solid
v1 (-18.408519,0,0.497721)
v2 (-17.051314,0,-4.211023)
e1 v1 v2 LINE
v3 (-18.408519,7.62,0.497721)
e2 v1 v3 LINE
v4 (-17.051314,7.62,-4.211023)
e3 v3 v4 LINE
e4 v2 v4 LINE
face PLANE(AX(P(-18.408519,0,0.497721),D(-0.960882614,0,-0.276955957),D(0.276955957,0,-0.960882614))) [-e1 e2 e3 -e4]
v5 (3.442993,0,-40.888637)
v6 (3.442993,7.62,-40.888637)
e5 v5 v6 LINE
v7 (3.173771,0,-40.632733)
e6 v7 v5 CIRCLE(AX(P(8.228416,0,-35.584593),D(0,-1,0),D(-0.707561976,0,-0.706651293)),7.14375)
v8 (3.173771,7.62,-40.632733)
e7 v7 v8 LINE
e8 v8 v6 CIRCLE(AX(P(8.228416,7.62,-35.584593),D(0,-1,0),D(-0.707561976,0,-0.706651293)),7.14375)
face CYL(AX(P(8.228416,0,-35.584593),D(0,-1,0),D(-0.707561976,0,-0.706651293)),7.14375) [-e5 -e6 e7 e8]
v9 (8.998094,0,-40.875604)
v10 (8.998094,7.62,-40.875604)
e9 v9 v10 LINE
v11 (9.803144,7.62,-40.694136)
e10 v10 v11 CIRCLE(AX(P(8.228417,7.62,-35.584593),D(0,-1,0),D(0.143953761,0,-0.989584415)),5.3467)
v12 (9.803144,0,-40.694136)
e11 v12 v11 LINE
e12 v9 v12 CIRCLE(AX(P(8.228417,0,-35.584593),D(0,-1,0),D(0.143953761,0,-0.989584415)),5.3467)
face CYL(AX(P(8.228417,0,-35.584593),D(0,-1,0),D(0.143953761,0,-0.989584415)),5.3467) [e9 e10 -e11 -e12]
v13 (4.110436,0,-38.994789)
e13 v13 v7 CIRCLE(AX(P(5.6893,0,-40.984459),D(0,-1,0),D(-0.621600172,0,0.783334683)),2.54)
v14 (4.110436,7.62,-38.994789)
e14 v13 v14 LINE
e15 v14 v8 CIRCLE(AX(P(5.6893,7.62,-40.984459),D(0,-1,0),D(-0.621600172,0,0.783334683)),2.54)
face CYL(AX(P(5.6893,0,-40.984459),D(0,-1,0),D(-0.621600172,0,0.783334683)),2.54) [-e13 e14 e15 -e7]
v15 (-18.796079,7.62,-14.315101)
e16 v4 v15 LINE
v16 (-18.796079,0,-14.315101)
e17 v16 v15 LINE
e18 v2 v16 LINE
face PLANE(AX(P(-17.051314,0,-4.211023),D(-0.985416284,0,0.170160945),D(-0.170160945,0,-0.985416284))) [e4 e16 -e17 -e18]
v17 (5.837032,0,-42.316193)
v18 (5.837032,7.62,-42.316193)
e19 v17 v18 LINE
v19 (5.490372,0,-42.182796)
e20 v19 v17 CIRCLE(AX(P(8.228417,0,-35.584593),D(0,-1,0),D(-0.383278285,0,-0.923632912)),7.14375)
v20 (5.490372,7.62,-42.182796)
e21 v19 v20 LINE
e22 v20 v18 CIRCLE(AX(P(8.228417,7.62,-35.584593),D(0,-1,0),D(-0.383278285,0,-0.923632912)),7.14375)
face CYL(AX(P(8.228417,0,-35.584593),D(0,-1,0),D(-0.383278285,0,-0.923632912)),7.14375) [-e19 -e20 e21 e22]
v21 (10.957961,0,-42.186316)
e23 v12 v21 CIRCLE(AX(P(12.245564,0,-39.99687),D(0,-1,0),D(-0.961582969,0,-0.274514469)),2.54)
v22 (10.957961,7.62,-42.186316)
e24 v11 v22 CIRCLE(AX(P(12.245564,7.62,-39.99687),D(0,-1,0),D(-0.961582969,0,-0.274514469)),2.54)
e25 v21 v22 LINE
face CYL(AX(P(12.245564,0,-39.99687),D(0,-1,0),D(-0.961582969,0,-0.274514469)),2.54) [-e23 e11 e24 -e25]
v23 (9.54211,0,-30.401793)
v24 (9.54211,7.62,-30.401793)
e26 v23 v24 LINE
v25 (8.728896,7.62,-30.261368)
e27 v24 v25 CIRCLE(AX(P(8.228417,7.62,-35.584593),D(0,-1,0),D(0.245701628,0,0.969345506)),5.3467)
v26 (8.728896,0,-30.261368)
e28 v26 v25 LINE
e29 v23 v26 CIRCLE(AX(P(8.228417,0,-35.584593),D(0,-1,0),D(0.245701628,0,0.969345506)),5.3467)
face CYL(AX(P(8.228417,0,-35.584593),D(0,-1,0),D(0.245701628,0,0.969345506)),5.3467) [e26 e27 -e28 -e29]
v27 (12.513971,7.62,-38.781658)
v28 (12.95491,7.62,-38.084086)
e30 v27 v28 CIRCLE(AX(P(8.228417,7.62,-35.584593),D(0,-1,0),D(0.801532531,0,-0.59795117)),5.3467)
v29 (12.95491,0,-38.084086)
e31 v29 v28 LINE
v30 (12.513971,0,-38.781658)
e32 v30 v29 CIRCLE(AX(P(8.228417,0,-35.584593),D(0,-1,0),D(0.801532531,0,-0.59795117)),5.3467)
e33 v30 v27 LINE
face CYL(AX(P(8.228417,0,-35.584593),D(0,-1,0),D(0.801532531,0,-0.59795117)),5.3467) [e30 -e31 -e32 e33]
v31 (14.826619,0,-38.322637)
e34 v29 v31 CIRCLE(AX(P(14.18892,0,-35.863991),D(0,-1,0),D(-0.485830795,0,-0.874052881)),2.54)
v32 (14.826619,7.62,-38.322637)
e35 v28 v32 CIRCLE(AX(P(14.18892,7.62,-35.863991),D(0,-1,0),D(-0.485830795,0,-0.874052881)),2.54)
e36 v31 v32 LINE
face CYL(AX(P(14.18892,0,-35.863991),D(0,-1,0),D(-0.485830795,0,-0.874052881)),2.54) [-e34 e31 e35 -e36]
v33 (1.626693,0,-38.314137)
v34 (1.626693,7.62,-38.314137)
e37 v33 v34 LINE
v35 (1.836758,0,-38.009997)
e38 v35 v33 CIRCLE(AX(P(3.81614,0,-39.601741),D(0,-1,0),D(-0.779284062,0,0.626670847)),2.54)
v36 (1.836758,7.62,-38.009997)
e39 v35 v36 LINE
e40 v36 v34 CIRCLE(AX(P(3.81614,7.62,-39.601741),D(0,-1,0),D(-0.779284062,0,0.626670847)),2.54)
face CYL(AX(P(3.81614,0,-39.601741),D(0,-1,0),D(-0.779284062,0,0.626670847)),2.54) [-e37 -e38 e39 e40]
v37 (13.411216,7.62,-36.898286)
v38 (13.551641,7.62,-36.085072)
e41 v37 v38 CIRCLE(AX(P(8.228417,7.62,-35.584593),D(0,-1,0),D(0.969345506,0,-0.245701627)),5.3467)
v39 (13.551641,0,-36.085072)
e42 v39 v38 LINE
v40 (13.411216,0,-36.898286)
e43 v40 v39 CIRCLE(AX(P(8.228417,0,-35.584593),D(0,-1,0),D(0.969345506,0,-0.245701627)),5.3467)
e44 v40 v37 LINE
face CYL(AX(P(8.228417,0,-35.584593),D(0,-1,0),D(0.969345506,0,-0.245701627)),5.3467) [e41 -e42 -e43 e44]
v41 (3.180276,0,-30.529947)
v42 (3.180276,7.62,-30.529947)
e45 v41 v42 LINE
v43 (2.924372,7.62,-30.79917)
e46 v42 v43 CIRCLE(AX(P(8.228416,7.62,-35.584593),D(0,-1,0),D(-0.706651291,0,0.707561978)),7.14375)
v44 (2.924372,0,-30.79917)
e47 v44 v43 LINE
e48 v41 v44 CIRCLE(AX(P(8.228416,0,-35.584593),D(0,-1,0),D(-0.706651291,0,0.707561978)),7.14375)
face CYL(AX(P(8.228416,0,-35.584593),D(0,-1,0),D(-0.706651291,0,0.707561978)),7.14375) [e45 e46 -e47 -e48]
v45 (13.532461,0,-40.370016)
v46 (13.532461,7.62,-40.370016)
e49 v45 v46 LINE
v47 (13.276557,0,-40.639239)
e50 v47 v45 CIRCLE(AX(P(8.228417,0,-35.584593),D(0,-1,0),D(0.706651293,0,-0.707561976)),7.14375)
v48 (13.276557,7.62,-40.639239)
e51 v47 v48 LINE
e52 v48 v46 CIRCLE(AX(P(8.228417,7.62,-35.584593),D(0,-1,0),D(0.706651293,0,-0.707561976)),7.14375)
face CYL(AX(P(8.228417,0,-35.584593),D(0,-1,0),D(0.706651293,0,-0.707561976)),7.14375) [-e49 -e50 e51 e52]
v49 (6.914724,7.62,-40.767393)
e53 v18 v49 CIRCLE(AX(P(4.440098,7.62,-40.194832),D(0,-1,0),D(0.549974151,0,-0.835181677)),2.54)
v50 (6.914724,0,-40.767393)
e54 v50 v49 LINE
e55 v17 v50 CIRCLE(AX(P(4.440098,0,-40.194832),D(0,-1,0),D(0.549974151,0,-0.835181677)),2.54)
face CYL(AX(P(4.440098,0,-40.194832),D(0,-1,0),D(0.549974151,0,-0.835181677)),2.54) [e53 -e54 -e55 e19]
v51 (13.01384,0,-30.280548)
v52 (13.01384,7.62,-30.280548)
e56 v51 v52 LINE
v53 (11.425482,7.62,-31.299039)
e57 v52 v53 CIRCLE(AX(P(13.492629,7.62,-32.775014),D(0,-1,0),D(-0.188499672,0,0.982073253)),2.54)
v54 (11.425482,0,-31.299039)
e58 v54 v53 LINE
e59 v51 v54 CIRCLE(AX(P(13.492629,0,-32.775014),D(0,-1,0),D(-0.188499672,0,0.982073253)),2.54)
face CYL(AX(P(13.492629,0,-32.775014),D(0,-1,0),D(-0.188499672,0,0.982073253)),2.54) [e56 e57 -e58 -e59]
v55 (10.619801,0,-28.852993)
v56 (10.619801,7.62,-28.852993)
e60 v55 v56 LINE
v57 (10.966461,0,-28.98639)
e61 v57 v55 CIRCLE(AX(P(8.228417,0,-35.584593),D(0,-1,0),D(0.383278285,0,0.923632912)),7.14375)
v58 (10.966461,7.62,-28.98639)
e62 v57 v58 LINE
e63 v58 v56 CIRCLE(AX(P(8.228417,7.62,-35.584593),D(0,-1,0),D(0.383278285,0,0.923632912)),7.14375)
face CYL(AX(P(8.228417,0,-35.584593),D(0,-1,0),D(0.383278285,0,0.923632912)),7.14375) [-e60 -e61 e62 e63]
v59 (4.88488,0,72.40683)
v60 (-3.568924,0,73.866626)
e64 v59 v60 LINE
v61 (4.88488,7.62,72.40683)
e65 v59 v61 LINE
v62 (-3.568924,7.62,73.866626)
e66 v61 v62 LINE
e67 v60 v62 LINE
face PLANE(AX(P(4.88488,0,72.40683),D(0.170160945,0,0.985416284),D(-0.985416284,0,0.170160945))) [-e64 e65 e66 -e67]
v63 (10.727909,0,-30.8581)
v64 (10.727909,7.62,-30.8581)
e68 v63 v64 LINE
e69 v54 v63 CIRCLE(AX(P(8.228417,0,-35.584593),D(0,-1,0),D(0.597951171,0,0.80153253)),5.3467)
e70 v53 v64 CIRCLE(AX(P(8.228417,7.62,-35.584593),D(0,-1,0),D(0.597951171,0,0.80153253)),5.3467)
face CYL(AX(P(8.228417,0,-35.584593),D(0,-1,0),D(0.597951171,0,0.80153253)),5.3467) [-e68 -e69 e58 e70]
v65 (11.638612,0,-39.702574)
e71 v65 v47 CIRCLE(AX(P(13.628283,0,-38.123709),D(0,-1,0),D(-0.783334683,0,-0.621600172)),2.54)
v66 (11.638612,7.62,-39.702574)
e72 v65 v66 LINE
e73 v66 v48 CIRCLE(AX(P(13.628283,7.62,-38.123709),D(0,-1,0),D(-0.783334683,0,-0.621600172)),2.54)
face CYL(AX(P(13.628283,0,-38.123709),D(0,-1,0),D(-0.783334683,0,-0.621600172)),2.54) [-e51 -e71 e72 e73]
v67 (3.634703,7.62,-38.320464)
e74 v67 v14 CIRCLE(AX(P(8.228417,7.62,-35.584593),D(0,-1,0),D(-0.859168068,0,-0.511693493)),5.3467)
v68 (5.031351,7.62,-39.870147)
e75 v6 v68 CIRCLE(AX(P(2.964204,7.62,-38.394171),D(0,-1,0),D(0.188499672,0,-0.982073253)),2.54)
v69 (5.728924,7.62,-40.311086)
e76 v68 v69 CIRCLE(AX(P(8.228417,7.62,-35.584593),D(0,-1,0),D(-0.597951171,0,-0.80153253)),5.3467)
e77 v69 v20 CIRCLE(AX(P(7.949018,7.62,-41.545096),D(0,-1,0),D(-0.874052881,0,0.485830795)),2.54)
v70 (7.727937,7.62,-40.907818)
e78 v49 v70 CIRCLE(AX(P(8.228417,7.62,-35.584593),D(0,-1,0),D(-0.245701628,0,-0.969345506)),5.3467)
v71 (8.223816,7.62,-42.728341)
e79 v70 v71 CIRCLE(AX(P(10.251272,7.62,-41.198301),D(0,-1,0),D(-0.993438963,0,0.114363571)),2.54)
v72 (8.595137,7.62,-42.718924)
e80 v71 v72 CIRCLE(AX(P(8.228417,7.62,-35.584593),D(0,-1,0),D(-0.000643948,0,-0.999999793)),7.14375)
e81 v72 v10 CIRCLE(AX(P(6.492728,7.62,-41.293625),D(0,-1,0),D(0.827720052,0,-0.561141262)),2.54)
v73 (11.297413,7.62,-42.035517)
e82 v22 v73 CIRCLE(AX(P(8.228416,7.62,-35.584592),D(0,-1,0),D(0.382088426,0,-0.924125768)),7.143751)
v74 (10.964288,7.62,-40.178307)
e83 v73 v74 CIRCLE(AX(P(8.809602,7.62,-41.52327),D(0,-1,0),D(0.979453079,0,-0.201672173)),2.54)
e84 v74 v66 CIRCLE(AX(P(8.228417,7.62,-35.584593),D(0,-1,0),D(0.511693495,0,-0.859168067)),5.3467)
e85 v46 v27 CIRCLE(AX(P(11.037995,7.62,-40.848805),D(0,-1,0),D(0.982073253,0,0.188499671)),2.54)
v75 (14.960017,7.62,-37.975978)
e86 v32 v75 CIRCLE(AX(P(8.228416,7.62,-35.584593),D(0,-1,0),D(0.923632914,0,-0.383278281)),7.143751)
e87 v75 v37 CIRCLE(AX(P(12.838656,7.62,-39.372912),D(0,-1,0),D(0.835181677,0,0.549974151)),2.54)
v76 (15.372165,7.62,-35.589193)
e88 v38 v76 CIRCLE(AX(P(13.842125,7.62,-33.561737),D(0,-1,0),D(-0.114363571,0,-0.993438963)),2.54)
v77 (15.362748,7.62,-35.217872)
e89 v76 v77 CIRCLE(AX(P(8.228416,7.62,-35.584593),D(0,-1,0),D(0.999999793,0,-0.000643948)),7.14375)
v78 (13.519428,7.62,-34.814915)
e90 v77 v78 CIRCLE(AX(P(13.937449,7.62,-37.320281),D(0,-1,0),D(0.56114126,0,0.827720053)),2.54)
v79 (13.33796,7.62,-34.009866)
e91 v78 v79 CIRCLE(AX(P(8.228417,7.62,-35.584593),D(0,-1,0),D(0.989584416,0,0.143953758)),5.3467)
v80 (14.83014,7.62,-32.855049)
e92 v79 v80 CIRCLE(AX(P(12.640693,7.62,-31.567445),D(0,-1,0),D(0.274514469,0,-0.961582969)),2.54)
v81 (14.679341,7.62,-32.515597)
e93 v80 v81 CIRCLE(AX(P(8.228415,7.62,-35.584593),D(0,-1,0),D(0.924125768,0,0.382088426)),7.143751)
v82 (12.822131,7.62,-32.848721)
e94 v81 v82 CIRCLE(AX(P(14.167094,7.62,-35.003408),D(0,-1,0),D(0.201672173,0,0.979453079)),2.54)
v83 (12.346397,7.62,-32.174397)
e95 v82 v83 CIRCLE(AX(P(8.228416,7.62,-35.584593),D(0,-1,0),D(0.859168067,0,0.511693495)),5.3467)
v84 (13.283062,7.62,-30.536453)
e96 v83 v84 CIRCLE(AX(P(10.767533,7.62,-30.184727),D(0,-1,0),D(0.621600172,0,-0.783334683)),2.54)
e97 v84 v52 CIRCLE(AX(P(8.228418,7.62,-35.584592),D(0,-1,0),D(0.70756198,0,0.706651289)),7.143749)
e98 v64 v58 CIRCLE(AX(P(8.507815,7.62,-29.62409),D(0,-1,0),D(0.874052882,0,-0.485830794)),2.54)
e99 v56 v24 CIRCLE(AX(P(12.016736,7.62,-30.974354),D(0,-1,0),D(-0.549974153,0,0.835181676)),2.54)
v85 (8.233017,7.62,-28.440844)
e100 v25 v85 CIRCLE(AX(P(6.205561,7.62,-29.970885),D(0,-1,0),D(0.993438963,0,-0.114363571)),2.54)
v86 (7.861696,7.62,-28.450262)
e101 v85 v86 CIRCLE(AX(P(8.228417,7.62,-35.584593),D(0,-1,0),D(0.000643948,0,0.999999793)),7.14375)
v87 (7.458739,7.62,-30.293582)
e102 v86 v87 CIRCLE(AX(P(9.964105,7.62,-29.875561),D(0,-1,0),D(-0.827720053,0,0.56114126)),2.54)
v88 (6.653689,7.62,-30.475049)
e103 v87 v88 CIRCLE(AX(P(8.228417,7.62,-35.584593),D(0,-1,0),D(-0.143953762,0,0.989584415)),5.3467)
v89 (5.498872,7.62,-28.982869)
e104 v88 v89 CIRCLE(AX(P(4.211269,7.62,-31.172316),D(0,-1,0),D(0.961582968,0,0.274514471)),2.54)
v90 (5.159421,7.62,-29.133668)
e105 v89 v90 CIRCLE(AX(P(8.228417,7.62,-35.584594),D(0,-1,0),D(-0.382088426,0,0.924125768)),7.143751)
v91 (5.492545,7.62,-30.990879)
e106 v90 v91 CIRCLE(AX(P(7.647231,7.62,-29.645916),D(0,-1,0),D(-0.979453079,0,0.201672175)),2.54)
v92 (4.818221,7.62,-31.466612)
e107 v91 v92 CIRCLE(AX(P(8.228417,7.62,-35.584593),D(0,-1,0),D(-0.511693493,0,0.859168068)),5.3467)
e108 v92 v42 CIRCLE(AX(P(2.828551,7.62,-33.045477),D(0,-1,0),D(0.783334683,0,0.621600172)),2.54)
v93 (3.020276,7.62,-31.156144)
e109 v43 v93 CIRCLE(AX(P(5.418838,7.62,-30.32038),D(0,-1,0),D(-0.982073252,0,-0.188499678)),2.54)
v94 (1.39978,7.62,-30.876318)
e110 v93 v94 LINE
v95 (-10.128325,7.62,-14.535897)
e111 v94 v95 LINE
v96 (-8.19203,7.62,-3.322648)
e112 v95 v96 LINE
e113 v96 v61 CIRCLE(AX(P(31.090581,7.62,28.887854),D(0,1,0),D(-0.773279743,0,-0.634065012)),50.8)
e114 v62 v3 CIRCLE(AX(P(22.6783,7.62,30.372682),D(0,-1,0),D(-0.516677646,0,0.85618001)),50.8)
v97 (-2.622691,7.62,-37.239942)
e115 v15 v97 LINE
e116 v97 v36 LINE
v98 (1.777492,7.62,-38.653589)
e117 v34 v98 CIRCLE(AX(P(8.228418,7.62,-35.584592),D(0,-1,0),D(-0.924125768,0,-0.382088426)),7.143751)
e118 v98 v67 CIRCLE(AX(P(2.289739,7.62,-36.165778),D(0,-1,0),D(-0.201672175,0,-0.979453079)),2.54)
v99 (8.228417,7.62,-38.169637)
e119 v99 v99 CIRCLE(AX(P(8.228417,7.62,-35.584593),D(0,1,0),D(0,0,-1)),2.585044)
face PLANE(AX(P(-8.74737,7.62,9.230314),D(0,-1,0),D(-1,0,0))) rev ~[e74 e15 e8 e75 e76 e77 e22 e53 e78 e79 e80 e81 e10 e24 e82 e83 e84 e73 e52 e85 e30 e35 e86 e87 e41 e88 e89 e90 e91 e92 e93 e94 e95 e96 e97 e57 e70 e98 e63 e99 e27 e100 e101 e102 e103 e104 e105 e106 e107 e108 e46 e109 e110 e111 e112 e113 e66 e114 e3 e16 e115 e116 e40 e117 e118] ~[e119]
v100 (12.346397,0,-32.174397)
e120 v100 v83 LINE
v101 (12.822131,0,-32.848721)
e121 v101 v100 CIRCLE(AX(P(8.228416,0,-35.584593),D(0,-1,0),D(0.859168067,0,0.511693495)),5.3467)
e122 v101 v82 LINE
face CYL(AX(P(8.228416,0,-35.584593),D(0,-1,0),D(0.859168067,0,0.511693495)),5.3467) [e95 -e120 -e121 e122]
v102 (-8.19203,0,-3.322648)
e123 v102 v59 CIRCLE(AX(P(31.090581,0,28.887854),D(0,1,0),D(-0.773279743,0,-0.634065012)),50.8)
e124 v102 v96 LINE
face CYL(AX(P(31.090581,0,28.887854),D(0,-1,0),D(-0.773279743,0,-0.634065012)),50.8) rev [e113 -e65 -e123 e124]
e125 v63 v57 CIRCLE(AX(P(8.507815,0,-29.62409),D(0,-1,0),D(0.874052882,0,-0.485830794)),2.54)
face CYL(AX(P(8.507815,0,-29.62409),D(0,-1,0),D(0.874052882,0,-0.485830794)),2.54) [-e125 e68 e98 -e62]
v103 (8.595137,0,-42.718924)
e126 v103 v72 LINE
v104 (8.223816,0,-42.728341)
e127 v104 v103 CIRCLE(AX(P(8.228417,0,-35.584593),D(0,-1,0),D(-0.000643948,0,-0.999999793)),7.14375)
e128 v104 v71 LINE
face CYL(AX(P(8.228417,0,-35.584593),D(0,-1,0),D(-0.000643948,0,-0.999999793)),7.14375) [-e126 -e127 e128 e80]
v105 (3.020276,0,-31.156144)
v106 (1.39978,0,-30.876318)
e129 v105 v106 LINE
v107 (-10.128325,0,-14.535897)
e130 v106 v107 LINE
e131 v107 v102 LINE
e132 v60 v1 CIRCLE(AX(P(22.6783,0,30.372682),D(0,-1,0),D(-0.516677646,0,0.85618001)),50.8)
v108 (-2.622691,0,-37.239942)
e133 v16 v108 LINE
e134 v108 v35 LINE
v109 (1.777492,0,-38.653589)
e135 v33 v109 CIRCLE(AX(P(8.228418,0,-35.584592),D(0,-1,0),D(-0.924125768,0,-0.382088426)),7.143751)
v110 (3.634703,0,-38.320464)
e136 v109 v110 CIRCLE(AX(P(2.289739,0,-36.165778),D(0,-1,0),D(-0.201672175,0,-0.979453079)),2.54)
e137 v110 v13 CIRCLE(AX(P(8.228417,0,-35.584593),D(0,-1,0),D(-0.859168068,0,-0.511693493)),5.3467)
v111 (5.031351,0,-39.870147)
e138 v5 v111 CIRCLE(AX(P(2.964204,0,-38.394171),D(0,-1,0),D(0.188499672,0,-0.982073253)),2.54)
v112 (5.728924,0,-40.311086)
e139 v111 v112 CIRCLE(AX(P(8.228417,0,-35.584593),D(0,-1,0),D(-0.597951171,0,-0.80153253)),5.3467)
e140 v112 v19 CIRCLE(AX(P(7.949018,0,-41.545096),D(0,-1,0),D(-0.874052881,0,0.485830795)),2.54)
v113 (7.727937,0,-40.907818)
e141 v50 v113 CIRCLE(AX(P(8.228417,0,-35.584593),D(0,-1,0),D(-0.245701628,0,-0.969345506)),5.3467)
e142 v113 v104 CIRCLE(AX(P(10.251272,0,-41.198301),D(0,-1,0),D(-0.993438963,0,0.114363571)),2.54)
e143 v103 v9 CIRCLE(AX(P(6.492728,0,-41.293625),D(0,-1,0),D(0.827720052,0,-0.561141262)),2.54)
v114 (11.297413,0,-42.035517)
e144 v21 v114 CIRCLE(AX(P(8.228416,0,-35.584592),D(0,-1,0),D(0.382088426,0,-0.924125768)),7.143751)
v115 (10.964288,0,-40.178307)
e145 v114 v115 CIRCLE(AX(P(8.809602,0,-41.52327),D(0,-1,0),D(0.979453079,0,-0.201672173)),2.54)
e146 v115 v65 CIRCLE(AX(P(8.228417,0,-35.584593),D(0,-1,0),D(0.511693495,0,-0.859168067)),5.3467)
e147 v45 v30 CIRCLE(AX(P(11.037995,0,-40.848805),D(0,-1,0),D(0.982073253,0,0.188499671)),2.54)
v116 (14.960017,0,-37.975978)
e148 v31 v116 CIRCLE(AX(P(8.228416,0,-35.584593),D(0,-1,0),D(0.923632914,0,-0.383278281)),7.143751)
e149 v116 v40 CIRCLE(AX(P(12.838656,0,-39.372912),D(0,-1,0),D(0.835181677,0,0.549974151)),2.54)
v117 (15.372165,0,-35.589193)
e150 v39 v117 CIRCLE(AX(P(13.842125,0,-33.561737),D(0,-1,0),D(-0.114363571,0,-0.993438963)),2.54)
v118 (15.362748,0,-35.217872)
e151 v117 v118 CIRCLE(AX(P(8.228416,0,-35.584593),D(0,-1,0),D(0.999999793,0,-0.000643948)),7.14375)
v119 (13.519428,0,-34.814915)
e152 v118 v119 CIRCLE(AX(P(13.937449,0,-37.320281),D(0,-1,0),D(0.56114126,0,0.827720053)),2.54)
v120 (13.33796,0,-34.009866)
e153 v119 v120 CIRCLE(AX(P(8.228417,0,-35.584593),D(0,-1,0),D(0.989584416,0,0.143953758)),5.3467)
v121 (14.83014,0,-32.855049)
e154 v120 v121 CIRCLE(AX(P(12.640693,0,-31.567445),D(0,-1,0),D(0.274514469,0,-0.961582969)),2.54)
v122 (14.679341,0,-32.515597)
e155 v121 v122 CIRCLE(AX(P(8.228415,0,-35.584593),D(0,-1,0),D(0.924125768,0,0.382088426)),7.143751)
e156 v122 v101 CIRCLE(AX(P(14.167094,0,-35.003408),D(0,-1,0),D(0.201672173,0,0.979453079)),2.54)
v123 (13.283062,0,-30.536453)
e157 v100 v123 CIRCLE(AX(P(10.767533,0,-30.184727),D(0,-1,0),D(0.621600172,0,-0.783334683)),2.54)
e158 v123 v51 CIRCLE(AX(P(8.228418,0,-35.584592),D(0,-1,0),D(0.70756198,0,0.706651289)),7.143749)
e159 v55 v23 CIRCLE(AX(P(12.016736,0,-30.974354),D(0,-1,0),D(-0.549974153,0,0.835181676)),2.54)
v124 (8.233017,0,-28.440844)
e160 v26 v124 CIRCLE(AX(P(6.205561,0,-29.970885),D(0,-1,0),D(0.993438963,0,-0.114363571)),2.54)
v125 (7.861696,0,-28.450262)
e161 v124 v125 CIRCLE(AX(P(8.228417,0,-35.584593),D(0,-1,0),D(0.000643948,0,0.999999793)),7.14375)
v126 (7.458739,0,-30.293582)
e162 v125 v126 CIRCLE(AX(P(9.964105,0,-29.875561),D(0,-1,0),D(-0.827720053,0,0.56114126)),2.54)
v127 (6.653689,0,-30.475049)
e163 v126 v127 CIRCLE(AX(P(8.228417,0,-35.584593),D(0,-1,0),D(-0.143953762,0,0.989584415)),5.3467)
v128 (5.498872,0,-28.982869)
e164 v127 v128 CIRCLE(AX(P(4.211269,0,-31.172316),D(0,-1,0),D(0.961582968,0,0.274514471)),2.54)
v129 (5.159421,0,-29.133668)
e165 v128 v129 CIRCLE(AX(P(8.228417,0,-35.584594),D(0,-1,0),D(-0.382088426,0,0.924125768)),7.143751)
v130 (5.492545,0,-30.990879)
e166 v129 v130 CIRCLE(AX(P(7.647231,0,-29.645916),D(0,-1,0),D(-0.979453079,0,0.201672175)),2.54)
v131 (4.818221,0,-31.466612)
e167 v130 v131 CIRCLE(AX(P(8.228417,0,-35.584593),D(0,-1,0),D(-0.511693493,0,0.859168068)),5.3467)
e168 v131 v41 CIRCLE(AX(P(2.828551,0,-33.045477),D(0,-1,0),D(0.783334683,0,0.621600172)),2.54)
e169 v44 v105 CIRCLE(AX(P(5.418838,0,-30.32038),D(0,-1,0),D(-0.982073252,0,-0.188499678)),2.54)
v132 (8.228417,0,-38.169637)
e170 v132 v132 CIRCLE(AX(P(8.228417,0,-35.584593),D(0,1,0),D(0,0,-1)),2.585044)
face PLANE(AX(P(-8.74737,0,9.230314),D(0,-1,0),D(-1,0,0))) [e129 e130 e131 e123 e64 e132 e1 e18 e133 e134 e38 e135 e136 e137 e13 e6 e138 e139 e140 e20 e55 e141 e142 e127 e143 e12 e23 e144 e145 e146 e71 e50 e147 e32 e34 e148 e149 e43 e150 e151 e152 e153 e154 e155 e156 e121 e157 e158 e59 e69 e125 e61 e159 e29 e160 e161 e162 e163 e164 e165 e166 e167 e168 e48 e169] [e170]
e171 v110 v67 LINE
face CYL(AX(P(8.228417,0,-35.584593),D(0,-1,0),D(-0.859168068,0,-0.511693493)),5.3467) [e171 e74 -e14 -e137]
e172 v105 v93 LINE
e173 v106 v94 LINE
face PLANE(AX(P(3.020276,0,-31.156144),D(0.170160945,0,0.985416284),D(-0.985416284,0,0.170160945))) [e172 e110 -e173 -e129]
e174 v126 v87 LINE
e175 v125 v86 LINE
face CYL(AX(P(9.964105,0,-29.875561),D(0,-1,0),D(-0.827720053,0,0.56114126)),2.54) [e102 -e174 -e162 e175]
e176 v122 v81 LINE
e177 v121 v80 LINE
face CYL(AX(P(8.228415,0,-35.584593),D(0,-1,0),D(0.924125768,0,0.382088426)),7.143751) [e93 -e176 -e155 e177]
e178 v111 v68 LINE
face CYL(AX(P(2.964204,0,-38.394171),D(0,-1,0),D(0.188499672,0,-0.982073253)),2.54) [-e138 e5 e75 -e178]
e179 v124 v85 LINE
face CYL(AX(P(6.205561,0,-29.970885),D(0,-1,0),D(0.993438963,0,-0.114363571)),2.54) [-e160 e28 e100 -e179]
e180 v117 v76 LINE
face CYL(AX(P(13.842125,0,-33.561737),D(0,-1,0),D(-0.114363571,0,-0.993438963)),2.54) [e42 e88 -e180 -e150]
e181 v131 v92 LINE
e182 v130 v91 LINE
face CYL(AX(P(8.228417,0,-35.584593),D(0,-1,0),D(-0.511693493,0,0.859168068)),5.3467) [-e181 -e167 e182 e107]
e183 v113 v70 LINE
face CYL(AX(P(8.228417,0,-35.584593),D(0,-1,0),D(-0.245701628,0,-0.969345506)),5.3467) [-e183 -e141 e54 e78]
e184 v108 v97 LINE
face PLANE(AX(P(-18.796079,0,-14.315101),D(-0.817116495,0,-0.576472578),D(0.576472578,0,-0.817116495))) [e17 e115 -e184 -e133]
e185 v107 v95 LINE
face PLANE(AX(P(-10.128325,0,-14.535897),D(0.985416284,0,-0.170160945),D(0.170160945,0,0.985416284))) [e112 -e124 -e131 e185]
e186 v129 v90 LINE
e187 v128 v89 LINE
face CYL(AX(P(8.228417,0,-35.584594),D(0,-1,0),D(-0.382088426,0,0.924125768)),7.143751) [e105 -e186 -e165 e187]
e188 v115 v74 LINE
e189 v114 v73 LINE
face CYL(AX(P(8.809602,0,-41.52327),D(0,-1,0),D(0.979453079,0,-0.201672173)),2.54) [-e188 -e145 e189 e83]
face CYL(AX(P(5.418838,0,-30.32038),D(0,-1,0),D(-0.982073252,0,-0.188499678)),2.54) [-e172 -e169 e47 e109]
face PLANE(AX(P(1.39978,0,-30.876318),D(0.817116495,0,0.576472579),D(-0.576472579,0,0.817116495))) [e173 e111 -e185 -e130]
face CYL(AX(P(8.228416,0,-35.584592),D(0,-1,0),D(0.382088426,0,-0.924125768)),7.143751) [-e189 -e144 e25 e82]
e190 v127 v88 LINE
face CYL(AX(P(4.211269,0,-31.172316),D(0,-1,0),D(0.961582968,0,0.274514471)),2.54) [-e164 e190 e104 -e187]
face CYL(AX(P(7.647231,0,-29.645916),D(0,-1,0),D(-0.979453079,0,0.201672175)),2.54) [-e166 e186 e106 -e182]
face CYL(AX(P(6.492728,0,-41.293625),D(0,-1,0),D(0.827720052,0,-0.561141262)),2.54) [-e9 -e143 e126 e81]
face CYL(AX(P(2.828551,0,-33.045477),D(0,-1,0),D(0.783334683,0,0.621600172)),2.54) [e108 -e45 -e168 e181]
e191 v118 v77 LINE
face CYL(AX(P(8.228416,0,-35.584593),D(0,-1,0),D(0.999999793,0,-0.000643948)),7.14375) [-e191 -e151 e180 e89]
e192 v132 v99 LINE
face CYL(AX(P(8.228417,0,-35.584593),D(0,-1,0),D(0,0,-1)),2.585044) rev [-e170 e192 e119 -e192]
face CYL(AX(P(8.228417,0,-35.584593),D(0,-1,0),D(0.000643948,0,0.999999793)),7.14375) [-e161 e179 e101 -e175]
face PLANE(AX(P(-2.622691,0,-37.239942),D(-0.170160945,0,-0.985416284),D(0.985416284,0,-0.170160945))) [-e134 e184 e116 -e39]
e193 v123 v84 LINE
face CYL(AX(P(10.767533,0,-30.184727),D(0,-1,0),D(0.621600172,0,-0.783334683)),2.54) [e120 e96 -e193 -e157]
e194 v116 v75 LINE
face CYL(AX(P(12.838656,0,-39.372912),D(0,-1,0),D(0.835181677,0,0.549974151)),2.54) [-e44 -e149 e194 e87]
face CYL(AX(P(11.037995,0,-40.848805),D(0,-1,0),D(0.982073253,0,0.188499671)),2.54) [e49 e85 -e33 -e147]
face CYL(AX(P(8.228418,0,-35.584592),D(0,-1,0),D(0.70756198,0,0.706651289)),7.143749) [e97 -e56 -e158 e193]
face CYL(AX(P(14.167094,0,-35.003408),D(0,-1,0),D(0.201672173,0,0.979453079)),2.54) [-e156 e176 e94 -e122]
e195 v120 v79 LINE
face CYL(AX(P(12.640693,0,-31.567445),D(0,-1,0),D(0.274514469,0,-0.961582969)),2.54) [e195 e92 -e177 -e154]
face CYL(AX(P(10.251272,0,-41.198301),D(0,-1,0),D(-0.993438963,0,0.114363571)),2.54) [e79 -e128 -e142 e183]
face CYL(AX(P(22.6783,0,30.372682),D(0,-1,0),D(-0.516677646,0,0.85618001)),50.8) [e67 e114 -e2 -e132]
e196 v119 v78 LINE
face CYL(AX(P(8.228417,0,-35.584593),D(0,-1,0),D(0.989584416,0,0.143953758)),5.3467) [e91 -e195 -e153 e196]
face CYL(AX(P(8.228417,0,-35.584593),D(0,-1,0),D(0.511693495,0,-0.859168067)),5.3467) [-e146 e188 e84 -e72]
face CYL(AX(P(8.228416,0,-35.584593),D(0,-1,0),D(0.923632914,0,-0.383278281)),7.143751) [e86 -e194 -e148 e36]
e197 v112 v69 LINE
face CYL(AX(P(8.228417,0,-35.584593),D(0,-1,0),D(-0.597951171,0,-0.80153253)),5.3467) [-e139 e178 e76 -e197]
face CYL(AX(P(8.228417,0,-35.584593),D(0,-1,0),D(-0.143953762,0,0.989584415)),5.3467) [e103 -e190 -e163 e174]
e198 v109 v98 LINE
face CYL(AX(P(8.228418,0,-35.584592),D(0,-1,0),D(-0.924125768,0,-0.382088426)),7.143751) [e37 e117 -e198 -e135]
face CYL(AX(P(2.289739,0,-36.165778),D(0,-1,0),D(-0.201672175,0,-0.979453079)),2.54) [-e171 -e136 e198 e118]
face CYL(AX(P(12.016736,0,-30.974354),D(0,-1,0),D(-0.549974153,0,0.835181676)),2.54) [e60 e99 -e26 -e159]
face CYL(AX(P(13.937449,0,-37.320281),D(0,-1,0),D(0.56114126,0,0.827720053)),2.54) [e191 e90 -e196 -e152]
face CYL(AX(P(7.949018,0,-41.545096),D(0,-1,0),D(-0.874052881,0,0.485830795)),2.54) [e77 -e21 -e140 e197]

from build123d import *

# Parameters (mm, degrees)
SKETCH1_R           = 2.585044133
BOSS_EXTRUDE1_DEPTH = 7.62


with BuildPart() as part:
    # Sketch1 → Boss-Extrude1 (new body)
    with BuildSketch(Plane(origin=(0, 0, 0), x_dir=(1, 0, 0), z_dir=(0, 1, 0))):
        with BuildLine():
            Line((3.020276381, 31.156144465), (1.399779997, 30.876318364))
            Line((1.399779997, 30.876318364), (-10.128325028, 14.535897116))
            Line((-10.128325028, 14.535897116), (-8.192029601, 3.322648137))
            ThreePointArc((-8.192029601, 3.322648137), (-18.968565906, -37.532030496), (4.88487987, -72.406829787))
            Line((4.88487987, -72.406829787), (-3.568924444, -73.866626378))
            ThreePointArc((-3.568924444, -73.866626378), (-27.113440564, -40.443559332), (-18.408519275, -0.497721057))
            Line((-18.408519275, -0.497721057), (-17.051314308, 4.21102278))
            Line((-17.051314308, 4.21102278), (-18.796078997, 14.315101218))
            Line((-18.796078997, 14.315101218), (-2.622690692, 37.239942495))
            Line((-2.622690692, 37.239942495), (1.836758298, 38.009996803))
            ThreePointArc((1.836758298, 38.009996803), (1.726185886, 38.158240643), (1.62669315, 38.31413705))
            ThreePointArc((1.62669315, 38.31413705), (1.699886001, 38.484843232), (1.777492058, 38.653588881))
            ThreePointArc((1.777492058, 38.653588881), (2.738177728, 38.665878668), (3.634702712, 38.320464496))
            ThreePointArc((3.634702712, 38.320464496), (3.859539856, 38.666818829), (4.110435884, 38.994788717))
            ThreePointArc((4.110435884, 38.994788717), (3.484366991, 39.723558733), (3.173770753, 40.632733069))
            ThreePointArc((3.173770753, 40.632733069), (3.306718558, 40.762435326), (3.44299337, 40.888637424))
            ThreePointArc((3.44299337, 40.888637424), (4.335254295, 40.532353217), (5.031351097, 39.870146876))
            ThreePointArc((5.031351097, 39.870146876), (5.371617597, 40.104095105), (5.728923946, 40.311086019))
            ThreePointArc((5.728923946, 40.311086019), (5.42939992, 41.223967914), (5.490372369, 42.182795508))
            ThreePointArc((5.490372369, 42.182795508), (5.662835029, 42.251747846), (5.837031991, 42.316193269))
            ThreePointArc((5.837031991, 42.316193269), (6.525029535, 41.645576109), (6.914723727, 40.767392511))
            ThreePointArc((6.914723727, 40.767392511), (7.318617093, 40.853318139), (7.727937109, 40.907817588))
            ThreePointArc((7.727937109, 40.907817588), (7.800557769, 41.865833368), (8.223816402, 42.728341412))
            ThreePointArc((8.223816402, 42.728341412), (8.409538041, 42.726046463), (8.595137244, 42.718923979))
            ThreePointArc((8.595137244, 42.718923979), (8.974130017, 41.836069249), (8.998094191, 40.875603886))
            ThreePointArc((8.998094191, 40.875603886), (9.40412532, 40.800425515), (9.803143741, 40.694136452))
            ThreePointArc((9.803143741, 40.694136452), (10.236853249, 41.5514369), (10.957960776, 42.186316362))
            ThreePointArc((10.957960776, 42.186316362), (11.128666958, 42.113123511), (11.297412607, 42.035517454))
            ThreePointArc((11.297412607, 42.035517454), (11.309702393, 41.074831784), (10.964288222, 40.1783068))
            ThreePointArc((10.964288222, 40.1783068), (11.310642554, 39.953469656), (11.638612443, 39.702573628))
            ThreePointArc((11.638612443, 39.702573628), (12.367382459, 40.328642521), (13.276556795, 40.639238759))
            ThreePointArc((13.276556795, 40.639238759), (13.406259052, 40.506290954), (13.53246115, 40.370016142))
            ThreePointArc((13.53246115, 40.370016142), (13.176176943, 39.477755216), (12.513970602, 38.781658415))
            ThreePointArc((12.513970602, 38.781658415), (12.747918831, 38.441391914), (12.954909744, 38.084085566))
            ThreePointArc((12.954909744, 38.084085566), (13.867791639, 38.383609592), (14.826619234, 38.322637143))
            ThreePointArc((14.826619234, 38.322637143), (14.895571572, 38.150174482), (14.960016995, 37.975977521))
            ThreePointArc((14.960016995, 37.975977521), (14.289399835, 37.287979977), (13.411216236, 36.898285785))
            ThreePointArc((13.411216236, 36.898285785), (13.497141864, 36.494392418), (13.551641313, 36.085072403))
            ThreePointArc((13.551641313, 36.085072403), (14.509657094, 36.012451743), (15.372165138, 35.58919311))
            ThreePointArc((15.372165138, 35.58919311), (15.369870189, 35.403471471), (15.362747705, 35.217872267))
            ThreePointArc((15.362747705, 35.217872267), (14.479892975, 34.838879495), (13.519427611, 34.814915321))
            ThreePointArc((13.519427611, 34.814915321), (13.444249241, 34.408884192), (13.337960178, 34.009865771))
            ThreePointArc((13.337960178, 34.009865771), (14.195260626, 33.576156263), (14.830140088, 32.855048736))
            ThreePointArc((14.830140088, 32.855048736), (14.756947237, 32.684342554), (14.67934118, 32.515596905))
            ThreePointArc((14.67934118, 32.515596905), (13.718655509, 32.503307119), (12.822130526, 32.84872129))
            ThreePointArc((12.822130526, 32.84872129), (12.597293382, 32.502366958), (12.346397354, 32.174397069))
            ThreePointArc((12.346397354, 32.174397069), (12.972466247, 31.445627053), (13.283062484, 30.536452717))
            ThreePointArc((13.283062484, 30.536452717), (13.15011468, 30.40675046), (13.013839868, 30.280548362))
            ThreePointArc((13.013839868, 30.280548362), (12.121578942, 30.636832569), (11.42548214, 31.29903891))
            ThreePointArc((11.42548214, 31.29903891), (11.08521564, 31.065090681), (10.727909292, 30.858099767))
            ThreePointArc((10.727909292, 30.858099767), (11.027433317, 29.945217873), (10.966460868, 28.986390278))
            ThreePointArc((10.966460868, 28.986390278), (10.793998208, 28.91743794), (10.619801246, 28.852992517))
            ThreePointArc((10.619801246, 28.852992517), (9.931803703, 29.523609677), (9.54210951, 30.401793275))
            ThreePointArc((9.54210951, 30.401793275), (9.138216144, 30.315867647), (8.728896129, 30.261368198))
            ThreePointArc((8.728896129, 30.261368198), (8.656275469, 29.303352418), (8.233016836, 28.440844374))
            ThreePointArc((8.233016836, 28.440844374), (8.047295197, 28.443139323), (7.861695993, 28.450261807))
            ThreePointArc((7.861695993, 28.450261807), (7.482703221, 29.333116537), (7.458739046, 30.2935819))
            ThreePointArc((7.458739046, 30.2935819), (7.052707918, 30.368760271), (6.653689497, 30.475049334))
            ThreePointArc((6.653689497, 30.475049334), (6.219979988, 29.617748886), (5.498872462, 28.982869424))
            ThreePointArc((5.498872462, 28.982869424), (5.32816628, 29.056062275), (5.159420631, 29.133668332))
            ThreePointArc((5.159420631, 29.133668332), (5.147130844, 30.094354002), (5.492545016, 30.990878986))
            ThreePointArc((5.492545016, 30.990878986), (5.146190683, 31.21571613), (4.818220795, 31.466612158))
            ThreePointArc((4.818220795, 31.466612158), (4.089450779, 30.840543265), (3.180276443, 30.529947028))
            ThreePointArc((3.180276443, 30.529947028), (3.050574186, 30.662894832), (2.924372087, 30.799169644))
            ThreePointArc((2.924372087, 30.799169644), (2.965822028, 30.979403927), (3.020276381, 31.156144465))
        make_face()
        with Locations(Location((8.228416619, 35.584592893, 0), (0, 0, 90))):
            Circle(SKETCH1_R, mode=Mode.SUBTRACT)
    extrude(amount=BOSS_EXTRUDE1_DEPTH)


solid = part.part
